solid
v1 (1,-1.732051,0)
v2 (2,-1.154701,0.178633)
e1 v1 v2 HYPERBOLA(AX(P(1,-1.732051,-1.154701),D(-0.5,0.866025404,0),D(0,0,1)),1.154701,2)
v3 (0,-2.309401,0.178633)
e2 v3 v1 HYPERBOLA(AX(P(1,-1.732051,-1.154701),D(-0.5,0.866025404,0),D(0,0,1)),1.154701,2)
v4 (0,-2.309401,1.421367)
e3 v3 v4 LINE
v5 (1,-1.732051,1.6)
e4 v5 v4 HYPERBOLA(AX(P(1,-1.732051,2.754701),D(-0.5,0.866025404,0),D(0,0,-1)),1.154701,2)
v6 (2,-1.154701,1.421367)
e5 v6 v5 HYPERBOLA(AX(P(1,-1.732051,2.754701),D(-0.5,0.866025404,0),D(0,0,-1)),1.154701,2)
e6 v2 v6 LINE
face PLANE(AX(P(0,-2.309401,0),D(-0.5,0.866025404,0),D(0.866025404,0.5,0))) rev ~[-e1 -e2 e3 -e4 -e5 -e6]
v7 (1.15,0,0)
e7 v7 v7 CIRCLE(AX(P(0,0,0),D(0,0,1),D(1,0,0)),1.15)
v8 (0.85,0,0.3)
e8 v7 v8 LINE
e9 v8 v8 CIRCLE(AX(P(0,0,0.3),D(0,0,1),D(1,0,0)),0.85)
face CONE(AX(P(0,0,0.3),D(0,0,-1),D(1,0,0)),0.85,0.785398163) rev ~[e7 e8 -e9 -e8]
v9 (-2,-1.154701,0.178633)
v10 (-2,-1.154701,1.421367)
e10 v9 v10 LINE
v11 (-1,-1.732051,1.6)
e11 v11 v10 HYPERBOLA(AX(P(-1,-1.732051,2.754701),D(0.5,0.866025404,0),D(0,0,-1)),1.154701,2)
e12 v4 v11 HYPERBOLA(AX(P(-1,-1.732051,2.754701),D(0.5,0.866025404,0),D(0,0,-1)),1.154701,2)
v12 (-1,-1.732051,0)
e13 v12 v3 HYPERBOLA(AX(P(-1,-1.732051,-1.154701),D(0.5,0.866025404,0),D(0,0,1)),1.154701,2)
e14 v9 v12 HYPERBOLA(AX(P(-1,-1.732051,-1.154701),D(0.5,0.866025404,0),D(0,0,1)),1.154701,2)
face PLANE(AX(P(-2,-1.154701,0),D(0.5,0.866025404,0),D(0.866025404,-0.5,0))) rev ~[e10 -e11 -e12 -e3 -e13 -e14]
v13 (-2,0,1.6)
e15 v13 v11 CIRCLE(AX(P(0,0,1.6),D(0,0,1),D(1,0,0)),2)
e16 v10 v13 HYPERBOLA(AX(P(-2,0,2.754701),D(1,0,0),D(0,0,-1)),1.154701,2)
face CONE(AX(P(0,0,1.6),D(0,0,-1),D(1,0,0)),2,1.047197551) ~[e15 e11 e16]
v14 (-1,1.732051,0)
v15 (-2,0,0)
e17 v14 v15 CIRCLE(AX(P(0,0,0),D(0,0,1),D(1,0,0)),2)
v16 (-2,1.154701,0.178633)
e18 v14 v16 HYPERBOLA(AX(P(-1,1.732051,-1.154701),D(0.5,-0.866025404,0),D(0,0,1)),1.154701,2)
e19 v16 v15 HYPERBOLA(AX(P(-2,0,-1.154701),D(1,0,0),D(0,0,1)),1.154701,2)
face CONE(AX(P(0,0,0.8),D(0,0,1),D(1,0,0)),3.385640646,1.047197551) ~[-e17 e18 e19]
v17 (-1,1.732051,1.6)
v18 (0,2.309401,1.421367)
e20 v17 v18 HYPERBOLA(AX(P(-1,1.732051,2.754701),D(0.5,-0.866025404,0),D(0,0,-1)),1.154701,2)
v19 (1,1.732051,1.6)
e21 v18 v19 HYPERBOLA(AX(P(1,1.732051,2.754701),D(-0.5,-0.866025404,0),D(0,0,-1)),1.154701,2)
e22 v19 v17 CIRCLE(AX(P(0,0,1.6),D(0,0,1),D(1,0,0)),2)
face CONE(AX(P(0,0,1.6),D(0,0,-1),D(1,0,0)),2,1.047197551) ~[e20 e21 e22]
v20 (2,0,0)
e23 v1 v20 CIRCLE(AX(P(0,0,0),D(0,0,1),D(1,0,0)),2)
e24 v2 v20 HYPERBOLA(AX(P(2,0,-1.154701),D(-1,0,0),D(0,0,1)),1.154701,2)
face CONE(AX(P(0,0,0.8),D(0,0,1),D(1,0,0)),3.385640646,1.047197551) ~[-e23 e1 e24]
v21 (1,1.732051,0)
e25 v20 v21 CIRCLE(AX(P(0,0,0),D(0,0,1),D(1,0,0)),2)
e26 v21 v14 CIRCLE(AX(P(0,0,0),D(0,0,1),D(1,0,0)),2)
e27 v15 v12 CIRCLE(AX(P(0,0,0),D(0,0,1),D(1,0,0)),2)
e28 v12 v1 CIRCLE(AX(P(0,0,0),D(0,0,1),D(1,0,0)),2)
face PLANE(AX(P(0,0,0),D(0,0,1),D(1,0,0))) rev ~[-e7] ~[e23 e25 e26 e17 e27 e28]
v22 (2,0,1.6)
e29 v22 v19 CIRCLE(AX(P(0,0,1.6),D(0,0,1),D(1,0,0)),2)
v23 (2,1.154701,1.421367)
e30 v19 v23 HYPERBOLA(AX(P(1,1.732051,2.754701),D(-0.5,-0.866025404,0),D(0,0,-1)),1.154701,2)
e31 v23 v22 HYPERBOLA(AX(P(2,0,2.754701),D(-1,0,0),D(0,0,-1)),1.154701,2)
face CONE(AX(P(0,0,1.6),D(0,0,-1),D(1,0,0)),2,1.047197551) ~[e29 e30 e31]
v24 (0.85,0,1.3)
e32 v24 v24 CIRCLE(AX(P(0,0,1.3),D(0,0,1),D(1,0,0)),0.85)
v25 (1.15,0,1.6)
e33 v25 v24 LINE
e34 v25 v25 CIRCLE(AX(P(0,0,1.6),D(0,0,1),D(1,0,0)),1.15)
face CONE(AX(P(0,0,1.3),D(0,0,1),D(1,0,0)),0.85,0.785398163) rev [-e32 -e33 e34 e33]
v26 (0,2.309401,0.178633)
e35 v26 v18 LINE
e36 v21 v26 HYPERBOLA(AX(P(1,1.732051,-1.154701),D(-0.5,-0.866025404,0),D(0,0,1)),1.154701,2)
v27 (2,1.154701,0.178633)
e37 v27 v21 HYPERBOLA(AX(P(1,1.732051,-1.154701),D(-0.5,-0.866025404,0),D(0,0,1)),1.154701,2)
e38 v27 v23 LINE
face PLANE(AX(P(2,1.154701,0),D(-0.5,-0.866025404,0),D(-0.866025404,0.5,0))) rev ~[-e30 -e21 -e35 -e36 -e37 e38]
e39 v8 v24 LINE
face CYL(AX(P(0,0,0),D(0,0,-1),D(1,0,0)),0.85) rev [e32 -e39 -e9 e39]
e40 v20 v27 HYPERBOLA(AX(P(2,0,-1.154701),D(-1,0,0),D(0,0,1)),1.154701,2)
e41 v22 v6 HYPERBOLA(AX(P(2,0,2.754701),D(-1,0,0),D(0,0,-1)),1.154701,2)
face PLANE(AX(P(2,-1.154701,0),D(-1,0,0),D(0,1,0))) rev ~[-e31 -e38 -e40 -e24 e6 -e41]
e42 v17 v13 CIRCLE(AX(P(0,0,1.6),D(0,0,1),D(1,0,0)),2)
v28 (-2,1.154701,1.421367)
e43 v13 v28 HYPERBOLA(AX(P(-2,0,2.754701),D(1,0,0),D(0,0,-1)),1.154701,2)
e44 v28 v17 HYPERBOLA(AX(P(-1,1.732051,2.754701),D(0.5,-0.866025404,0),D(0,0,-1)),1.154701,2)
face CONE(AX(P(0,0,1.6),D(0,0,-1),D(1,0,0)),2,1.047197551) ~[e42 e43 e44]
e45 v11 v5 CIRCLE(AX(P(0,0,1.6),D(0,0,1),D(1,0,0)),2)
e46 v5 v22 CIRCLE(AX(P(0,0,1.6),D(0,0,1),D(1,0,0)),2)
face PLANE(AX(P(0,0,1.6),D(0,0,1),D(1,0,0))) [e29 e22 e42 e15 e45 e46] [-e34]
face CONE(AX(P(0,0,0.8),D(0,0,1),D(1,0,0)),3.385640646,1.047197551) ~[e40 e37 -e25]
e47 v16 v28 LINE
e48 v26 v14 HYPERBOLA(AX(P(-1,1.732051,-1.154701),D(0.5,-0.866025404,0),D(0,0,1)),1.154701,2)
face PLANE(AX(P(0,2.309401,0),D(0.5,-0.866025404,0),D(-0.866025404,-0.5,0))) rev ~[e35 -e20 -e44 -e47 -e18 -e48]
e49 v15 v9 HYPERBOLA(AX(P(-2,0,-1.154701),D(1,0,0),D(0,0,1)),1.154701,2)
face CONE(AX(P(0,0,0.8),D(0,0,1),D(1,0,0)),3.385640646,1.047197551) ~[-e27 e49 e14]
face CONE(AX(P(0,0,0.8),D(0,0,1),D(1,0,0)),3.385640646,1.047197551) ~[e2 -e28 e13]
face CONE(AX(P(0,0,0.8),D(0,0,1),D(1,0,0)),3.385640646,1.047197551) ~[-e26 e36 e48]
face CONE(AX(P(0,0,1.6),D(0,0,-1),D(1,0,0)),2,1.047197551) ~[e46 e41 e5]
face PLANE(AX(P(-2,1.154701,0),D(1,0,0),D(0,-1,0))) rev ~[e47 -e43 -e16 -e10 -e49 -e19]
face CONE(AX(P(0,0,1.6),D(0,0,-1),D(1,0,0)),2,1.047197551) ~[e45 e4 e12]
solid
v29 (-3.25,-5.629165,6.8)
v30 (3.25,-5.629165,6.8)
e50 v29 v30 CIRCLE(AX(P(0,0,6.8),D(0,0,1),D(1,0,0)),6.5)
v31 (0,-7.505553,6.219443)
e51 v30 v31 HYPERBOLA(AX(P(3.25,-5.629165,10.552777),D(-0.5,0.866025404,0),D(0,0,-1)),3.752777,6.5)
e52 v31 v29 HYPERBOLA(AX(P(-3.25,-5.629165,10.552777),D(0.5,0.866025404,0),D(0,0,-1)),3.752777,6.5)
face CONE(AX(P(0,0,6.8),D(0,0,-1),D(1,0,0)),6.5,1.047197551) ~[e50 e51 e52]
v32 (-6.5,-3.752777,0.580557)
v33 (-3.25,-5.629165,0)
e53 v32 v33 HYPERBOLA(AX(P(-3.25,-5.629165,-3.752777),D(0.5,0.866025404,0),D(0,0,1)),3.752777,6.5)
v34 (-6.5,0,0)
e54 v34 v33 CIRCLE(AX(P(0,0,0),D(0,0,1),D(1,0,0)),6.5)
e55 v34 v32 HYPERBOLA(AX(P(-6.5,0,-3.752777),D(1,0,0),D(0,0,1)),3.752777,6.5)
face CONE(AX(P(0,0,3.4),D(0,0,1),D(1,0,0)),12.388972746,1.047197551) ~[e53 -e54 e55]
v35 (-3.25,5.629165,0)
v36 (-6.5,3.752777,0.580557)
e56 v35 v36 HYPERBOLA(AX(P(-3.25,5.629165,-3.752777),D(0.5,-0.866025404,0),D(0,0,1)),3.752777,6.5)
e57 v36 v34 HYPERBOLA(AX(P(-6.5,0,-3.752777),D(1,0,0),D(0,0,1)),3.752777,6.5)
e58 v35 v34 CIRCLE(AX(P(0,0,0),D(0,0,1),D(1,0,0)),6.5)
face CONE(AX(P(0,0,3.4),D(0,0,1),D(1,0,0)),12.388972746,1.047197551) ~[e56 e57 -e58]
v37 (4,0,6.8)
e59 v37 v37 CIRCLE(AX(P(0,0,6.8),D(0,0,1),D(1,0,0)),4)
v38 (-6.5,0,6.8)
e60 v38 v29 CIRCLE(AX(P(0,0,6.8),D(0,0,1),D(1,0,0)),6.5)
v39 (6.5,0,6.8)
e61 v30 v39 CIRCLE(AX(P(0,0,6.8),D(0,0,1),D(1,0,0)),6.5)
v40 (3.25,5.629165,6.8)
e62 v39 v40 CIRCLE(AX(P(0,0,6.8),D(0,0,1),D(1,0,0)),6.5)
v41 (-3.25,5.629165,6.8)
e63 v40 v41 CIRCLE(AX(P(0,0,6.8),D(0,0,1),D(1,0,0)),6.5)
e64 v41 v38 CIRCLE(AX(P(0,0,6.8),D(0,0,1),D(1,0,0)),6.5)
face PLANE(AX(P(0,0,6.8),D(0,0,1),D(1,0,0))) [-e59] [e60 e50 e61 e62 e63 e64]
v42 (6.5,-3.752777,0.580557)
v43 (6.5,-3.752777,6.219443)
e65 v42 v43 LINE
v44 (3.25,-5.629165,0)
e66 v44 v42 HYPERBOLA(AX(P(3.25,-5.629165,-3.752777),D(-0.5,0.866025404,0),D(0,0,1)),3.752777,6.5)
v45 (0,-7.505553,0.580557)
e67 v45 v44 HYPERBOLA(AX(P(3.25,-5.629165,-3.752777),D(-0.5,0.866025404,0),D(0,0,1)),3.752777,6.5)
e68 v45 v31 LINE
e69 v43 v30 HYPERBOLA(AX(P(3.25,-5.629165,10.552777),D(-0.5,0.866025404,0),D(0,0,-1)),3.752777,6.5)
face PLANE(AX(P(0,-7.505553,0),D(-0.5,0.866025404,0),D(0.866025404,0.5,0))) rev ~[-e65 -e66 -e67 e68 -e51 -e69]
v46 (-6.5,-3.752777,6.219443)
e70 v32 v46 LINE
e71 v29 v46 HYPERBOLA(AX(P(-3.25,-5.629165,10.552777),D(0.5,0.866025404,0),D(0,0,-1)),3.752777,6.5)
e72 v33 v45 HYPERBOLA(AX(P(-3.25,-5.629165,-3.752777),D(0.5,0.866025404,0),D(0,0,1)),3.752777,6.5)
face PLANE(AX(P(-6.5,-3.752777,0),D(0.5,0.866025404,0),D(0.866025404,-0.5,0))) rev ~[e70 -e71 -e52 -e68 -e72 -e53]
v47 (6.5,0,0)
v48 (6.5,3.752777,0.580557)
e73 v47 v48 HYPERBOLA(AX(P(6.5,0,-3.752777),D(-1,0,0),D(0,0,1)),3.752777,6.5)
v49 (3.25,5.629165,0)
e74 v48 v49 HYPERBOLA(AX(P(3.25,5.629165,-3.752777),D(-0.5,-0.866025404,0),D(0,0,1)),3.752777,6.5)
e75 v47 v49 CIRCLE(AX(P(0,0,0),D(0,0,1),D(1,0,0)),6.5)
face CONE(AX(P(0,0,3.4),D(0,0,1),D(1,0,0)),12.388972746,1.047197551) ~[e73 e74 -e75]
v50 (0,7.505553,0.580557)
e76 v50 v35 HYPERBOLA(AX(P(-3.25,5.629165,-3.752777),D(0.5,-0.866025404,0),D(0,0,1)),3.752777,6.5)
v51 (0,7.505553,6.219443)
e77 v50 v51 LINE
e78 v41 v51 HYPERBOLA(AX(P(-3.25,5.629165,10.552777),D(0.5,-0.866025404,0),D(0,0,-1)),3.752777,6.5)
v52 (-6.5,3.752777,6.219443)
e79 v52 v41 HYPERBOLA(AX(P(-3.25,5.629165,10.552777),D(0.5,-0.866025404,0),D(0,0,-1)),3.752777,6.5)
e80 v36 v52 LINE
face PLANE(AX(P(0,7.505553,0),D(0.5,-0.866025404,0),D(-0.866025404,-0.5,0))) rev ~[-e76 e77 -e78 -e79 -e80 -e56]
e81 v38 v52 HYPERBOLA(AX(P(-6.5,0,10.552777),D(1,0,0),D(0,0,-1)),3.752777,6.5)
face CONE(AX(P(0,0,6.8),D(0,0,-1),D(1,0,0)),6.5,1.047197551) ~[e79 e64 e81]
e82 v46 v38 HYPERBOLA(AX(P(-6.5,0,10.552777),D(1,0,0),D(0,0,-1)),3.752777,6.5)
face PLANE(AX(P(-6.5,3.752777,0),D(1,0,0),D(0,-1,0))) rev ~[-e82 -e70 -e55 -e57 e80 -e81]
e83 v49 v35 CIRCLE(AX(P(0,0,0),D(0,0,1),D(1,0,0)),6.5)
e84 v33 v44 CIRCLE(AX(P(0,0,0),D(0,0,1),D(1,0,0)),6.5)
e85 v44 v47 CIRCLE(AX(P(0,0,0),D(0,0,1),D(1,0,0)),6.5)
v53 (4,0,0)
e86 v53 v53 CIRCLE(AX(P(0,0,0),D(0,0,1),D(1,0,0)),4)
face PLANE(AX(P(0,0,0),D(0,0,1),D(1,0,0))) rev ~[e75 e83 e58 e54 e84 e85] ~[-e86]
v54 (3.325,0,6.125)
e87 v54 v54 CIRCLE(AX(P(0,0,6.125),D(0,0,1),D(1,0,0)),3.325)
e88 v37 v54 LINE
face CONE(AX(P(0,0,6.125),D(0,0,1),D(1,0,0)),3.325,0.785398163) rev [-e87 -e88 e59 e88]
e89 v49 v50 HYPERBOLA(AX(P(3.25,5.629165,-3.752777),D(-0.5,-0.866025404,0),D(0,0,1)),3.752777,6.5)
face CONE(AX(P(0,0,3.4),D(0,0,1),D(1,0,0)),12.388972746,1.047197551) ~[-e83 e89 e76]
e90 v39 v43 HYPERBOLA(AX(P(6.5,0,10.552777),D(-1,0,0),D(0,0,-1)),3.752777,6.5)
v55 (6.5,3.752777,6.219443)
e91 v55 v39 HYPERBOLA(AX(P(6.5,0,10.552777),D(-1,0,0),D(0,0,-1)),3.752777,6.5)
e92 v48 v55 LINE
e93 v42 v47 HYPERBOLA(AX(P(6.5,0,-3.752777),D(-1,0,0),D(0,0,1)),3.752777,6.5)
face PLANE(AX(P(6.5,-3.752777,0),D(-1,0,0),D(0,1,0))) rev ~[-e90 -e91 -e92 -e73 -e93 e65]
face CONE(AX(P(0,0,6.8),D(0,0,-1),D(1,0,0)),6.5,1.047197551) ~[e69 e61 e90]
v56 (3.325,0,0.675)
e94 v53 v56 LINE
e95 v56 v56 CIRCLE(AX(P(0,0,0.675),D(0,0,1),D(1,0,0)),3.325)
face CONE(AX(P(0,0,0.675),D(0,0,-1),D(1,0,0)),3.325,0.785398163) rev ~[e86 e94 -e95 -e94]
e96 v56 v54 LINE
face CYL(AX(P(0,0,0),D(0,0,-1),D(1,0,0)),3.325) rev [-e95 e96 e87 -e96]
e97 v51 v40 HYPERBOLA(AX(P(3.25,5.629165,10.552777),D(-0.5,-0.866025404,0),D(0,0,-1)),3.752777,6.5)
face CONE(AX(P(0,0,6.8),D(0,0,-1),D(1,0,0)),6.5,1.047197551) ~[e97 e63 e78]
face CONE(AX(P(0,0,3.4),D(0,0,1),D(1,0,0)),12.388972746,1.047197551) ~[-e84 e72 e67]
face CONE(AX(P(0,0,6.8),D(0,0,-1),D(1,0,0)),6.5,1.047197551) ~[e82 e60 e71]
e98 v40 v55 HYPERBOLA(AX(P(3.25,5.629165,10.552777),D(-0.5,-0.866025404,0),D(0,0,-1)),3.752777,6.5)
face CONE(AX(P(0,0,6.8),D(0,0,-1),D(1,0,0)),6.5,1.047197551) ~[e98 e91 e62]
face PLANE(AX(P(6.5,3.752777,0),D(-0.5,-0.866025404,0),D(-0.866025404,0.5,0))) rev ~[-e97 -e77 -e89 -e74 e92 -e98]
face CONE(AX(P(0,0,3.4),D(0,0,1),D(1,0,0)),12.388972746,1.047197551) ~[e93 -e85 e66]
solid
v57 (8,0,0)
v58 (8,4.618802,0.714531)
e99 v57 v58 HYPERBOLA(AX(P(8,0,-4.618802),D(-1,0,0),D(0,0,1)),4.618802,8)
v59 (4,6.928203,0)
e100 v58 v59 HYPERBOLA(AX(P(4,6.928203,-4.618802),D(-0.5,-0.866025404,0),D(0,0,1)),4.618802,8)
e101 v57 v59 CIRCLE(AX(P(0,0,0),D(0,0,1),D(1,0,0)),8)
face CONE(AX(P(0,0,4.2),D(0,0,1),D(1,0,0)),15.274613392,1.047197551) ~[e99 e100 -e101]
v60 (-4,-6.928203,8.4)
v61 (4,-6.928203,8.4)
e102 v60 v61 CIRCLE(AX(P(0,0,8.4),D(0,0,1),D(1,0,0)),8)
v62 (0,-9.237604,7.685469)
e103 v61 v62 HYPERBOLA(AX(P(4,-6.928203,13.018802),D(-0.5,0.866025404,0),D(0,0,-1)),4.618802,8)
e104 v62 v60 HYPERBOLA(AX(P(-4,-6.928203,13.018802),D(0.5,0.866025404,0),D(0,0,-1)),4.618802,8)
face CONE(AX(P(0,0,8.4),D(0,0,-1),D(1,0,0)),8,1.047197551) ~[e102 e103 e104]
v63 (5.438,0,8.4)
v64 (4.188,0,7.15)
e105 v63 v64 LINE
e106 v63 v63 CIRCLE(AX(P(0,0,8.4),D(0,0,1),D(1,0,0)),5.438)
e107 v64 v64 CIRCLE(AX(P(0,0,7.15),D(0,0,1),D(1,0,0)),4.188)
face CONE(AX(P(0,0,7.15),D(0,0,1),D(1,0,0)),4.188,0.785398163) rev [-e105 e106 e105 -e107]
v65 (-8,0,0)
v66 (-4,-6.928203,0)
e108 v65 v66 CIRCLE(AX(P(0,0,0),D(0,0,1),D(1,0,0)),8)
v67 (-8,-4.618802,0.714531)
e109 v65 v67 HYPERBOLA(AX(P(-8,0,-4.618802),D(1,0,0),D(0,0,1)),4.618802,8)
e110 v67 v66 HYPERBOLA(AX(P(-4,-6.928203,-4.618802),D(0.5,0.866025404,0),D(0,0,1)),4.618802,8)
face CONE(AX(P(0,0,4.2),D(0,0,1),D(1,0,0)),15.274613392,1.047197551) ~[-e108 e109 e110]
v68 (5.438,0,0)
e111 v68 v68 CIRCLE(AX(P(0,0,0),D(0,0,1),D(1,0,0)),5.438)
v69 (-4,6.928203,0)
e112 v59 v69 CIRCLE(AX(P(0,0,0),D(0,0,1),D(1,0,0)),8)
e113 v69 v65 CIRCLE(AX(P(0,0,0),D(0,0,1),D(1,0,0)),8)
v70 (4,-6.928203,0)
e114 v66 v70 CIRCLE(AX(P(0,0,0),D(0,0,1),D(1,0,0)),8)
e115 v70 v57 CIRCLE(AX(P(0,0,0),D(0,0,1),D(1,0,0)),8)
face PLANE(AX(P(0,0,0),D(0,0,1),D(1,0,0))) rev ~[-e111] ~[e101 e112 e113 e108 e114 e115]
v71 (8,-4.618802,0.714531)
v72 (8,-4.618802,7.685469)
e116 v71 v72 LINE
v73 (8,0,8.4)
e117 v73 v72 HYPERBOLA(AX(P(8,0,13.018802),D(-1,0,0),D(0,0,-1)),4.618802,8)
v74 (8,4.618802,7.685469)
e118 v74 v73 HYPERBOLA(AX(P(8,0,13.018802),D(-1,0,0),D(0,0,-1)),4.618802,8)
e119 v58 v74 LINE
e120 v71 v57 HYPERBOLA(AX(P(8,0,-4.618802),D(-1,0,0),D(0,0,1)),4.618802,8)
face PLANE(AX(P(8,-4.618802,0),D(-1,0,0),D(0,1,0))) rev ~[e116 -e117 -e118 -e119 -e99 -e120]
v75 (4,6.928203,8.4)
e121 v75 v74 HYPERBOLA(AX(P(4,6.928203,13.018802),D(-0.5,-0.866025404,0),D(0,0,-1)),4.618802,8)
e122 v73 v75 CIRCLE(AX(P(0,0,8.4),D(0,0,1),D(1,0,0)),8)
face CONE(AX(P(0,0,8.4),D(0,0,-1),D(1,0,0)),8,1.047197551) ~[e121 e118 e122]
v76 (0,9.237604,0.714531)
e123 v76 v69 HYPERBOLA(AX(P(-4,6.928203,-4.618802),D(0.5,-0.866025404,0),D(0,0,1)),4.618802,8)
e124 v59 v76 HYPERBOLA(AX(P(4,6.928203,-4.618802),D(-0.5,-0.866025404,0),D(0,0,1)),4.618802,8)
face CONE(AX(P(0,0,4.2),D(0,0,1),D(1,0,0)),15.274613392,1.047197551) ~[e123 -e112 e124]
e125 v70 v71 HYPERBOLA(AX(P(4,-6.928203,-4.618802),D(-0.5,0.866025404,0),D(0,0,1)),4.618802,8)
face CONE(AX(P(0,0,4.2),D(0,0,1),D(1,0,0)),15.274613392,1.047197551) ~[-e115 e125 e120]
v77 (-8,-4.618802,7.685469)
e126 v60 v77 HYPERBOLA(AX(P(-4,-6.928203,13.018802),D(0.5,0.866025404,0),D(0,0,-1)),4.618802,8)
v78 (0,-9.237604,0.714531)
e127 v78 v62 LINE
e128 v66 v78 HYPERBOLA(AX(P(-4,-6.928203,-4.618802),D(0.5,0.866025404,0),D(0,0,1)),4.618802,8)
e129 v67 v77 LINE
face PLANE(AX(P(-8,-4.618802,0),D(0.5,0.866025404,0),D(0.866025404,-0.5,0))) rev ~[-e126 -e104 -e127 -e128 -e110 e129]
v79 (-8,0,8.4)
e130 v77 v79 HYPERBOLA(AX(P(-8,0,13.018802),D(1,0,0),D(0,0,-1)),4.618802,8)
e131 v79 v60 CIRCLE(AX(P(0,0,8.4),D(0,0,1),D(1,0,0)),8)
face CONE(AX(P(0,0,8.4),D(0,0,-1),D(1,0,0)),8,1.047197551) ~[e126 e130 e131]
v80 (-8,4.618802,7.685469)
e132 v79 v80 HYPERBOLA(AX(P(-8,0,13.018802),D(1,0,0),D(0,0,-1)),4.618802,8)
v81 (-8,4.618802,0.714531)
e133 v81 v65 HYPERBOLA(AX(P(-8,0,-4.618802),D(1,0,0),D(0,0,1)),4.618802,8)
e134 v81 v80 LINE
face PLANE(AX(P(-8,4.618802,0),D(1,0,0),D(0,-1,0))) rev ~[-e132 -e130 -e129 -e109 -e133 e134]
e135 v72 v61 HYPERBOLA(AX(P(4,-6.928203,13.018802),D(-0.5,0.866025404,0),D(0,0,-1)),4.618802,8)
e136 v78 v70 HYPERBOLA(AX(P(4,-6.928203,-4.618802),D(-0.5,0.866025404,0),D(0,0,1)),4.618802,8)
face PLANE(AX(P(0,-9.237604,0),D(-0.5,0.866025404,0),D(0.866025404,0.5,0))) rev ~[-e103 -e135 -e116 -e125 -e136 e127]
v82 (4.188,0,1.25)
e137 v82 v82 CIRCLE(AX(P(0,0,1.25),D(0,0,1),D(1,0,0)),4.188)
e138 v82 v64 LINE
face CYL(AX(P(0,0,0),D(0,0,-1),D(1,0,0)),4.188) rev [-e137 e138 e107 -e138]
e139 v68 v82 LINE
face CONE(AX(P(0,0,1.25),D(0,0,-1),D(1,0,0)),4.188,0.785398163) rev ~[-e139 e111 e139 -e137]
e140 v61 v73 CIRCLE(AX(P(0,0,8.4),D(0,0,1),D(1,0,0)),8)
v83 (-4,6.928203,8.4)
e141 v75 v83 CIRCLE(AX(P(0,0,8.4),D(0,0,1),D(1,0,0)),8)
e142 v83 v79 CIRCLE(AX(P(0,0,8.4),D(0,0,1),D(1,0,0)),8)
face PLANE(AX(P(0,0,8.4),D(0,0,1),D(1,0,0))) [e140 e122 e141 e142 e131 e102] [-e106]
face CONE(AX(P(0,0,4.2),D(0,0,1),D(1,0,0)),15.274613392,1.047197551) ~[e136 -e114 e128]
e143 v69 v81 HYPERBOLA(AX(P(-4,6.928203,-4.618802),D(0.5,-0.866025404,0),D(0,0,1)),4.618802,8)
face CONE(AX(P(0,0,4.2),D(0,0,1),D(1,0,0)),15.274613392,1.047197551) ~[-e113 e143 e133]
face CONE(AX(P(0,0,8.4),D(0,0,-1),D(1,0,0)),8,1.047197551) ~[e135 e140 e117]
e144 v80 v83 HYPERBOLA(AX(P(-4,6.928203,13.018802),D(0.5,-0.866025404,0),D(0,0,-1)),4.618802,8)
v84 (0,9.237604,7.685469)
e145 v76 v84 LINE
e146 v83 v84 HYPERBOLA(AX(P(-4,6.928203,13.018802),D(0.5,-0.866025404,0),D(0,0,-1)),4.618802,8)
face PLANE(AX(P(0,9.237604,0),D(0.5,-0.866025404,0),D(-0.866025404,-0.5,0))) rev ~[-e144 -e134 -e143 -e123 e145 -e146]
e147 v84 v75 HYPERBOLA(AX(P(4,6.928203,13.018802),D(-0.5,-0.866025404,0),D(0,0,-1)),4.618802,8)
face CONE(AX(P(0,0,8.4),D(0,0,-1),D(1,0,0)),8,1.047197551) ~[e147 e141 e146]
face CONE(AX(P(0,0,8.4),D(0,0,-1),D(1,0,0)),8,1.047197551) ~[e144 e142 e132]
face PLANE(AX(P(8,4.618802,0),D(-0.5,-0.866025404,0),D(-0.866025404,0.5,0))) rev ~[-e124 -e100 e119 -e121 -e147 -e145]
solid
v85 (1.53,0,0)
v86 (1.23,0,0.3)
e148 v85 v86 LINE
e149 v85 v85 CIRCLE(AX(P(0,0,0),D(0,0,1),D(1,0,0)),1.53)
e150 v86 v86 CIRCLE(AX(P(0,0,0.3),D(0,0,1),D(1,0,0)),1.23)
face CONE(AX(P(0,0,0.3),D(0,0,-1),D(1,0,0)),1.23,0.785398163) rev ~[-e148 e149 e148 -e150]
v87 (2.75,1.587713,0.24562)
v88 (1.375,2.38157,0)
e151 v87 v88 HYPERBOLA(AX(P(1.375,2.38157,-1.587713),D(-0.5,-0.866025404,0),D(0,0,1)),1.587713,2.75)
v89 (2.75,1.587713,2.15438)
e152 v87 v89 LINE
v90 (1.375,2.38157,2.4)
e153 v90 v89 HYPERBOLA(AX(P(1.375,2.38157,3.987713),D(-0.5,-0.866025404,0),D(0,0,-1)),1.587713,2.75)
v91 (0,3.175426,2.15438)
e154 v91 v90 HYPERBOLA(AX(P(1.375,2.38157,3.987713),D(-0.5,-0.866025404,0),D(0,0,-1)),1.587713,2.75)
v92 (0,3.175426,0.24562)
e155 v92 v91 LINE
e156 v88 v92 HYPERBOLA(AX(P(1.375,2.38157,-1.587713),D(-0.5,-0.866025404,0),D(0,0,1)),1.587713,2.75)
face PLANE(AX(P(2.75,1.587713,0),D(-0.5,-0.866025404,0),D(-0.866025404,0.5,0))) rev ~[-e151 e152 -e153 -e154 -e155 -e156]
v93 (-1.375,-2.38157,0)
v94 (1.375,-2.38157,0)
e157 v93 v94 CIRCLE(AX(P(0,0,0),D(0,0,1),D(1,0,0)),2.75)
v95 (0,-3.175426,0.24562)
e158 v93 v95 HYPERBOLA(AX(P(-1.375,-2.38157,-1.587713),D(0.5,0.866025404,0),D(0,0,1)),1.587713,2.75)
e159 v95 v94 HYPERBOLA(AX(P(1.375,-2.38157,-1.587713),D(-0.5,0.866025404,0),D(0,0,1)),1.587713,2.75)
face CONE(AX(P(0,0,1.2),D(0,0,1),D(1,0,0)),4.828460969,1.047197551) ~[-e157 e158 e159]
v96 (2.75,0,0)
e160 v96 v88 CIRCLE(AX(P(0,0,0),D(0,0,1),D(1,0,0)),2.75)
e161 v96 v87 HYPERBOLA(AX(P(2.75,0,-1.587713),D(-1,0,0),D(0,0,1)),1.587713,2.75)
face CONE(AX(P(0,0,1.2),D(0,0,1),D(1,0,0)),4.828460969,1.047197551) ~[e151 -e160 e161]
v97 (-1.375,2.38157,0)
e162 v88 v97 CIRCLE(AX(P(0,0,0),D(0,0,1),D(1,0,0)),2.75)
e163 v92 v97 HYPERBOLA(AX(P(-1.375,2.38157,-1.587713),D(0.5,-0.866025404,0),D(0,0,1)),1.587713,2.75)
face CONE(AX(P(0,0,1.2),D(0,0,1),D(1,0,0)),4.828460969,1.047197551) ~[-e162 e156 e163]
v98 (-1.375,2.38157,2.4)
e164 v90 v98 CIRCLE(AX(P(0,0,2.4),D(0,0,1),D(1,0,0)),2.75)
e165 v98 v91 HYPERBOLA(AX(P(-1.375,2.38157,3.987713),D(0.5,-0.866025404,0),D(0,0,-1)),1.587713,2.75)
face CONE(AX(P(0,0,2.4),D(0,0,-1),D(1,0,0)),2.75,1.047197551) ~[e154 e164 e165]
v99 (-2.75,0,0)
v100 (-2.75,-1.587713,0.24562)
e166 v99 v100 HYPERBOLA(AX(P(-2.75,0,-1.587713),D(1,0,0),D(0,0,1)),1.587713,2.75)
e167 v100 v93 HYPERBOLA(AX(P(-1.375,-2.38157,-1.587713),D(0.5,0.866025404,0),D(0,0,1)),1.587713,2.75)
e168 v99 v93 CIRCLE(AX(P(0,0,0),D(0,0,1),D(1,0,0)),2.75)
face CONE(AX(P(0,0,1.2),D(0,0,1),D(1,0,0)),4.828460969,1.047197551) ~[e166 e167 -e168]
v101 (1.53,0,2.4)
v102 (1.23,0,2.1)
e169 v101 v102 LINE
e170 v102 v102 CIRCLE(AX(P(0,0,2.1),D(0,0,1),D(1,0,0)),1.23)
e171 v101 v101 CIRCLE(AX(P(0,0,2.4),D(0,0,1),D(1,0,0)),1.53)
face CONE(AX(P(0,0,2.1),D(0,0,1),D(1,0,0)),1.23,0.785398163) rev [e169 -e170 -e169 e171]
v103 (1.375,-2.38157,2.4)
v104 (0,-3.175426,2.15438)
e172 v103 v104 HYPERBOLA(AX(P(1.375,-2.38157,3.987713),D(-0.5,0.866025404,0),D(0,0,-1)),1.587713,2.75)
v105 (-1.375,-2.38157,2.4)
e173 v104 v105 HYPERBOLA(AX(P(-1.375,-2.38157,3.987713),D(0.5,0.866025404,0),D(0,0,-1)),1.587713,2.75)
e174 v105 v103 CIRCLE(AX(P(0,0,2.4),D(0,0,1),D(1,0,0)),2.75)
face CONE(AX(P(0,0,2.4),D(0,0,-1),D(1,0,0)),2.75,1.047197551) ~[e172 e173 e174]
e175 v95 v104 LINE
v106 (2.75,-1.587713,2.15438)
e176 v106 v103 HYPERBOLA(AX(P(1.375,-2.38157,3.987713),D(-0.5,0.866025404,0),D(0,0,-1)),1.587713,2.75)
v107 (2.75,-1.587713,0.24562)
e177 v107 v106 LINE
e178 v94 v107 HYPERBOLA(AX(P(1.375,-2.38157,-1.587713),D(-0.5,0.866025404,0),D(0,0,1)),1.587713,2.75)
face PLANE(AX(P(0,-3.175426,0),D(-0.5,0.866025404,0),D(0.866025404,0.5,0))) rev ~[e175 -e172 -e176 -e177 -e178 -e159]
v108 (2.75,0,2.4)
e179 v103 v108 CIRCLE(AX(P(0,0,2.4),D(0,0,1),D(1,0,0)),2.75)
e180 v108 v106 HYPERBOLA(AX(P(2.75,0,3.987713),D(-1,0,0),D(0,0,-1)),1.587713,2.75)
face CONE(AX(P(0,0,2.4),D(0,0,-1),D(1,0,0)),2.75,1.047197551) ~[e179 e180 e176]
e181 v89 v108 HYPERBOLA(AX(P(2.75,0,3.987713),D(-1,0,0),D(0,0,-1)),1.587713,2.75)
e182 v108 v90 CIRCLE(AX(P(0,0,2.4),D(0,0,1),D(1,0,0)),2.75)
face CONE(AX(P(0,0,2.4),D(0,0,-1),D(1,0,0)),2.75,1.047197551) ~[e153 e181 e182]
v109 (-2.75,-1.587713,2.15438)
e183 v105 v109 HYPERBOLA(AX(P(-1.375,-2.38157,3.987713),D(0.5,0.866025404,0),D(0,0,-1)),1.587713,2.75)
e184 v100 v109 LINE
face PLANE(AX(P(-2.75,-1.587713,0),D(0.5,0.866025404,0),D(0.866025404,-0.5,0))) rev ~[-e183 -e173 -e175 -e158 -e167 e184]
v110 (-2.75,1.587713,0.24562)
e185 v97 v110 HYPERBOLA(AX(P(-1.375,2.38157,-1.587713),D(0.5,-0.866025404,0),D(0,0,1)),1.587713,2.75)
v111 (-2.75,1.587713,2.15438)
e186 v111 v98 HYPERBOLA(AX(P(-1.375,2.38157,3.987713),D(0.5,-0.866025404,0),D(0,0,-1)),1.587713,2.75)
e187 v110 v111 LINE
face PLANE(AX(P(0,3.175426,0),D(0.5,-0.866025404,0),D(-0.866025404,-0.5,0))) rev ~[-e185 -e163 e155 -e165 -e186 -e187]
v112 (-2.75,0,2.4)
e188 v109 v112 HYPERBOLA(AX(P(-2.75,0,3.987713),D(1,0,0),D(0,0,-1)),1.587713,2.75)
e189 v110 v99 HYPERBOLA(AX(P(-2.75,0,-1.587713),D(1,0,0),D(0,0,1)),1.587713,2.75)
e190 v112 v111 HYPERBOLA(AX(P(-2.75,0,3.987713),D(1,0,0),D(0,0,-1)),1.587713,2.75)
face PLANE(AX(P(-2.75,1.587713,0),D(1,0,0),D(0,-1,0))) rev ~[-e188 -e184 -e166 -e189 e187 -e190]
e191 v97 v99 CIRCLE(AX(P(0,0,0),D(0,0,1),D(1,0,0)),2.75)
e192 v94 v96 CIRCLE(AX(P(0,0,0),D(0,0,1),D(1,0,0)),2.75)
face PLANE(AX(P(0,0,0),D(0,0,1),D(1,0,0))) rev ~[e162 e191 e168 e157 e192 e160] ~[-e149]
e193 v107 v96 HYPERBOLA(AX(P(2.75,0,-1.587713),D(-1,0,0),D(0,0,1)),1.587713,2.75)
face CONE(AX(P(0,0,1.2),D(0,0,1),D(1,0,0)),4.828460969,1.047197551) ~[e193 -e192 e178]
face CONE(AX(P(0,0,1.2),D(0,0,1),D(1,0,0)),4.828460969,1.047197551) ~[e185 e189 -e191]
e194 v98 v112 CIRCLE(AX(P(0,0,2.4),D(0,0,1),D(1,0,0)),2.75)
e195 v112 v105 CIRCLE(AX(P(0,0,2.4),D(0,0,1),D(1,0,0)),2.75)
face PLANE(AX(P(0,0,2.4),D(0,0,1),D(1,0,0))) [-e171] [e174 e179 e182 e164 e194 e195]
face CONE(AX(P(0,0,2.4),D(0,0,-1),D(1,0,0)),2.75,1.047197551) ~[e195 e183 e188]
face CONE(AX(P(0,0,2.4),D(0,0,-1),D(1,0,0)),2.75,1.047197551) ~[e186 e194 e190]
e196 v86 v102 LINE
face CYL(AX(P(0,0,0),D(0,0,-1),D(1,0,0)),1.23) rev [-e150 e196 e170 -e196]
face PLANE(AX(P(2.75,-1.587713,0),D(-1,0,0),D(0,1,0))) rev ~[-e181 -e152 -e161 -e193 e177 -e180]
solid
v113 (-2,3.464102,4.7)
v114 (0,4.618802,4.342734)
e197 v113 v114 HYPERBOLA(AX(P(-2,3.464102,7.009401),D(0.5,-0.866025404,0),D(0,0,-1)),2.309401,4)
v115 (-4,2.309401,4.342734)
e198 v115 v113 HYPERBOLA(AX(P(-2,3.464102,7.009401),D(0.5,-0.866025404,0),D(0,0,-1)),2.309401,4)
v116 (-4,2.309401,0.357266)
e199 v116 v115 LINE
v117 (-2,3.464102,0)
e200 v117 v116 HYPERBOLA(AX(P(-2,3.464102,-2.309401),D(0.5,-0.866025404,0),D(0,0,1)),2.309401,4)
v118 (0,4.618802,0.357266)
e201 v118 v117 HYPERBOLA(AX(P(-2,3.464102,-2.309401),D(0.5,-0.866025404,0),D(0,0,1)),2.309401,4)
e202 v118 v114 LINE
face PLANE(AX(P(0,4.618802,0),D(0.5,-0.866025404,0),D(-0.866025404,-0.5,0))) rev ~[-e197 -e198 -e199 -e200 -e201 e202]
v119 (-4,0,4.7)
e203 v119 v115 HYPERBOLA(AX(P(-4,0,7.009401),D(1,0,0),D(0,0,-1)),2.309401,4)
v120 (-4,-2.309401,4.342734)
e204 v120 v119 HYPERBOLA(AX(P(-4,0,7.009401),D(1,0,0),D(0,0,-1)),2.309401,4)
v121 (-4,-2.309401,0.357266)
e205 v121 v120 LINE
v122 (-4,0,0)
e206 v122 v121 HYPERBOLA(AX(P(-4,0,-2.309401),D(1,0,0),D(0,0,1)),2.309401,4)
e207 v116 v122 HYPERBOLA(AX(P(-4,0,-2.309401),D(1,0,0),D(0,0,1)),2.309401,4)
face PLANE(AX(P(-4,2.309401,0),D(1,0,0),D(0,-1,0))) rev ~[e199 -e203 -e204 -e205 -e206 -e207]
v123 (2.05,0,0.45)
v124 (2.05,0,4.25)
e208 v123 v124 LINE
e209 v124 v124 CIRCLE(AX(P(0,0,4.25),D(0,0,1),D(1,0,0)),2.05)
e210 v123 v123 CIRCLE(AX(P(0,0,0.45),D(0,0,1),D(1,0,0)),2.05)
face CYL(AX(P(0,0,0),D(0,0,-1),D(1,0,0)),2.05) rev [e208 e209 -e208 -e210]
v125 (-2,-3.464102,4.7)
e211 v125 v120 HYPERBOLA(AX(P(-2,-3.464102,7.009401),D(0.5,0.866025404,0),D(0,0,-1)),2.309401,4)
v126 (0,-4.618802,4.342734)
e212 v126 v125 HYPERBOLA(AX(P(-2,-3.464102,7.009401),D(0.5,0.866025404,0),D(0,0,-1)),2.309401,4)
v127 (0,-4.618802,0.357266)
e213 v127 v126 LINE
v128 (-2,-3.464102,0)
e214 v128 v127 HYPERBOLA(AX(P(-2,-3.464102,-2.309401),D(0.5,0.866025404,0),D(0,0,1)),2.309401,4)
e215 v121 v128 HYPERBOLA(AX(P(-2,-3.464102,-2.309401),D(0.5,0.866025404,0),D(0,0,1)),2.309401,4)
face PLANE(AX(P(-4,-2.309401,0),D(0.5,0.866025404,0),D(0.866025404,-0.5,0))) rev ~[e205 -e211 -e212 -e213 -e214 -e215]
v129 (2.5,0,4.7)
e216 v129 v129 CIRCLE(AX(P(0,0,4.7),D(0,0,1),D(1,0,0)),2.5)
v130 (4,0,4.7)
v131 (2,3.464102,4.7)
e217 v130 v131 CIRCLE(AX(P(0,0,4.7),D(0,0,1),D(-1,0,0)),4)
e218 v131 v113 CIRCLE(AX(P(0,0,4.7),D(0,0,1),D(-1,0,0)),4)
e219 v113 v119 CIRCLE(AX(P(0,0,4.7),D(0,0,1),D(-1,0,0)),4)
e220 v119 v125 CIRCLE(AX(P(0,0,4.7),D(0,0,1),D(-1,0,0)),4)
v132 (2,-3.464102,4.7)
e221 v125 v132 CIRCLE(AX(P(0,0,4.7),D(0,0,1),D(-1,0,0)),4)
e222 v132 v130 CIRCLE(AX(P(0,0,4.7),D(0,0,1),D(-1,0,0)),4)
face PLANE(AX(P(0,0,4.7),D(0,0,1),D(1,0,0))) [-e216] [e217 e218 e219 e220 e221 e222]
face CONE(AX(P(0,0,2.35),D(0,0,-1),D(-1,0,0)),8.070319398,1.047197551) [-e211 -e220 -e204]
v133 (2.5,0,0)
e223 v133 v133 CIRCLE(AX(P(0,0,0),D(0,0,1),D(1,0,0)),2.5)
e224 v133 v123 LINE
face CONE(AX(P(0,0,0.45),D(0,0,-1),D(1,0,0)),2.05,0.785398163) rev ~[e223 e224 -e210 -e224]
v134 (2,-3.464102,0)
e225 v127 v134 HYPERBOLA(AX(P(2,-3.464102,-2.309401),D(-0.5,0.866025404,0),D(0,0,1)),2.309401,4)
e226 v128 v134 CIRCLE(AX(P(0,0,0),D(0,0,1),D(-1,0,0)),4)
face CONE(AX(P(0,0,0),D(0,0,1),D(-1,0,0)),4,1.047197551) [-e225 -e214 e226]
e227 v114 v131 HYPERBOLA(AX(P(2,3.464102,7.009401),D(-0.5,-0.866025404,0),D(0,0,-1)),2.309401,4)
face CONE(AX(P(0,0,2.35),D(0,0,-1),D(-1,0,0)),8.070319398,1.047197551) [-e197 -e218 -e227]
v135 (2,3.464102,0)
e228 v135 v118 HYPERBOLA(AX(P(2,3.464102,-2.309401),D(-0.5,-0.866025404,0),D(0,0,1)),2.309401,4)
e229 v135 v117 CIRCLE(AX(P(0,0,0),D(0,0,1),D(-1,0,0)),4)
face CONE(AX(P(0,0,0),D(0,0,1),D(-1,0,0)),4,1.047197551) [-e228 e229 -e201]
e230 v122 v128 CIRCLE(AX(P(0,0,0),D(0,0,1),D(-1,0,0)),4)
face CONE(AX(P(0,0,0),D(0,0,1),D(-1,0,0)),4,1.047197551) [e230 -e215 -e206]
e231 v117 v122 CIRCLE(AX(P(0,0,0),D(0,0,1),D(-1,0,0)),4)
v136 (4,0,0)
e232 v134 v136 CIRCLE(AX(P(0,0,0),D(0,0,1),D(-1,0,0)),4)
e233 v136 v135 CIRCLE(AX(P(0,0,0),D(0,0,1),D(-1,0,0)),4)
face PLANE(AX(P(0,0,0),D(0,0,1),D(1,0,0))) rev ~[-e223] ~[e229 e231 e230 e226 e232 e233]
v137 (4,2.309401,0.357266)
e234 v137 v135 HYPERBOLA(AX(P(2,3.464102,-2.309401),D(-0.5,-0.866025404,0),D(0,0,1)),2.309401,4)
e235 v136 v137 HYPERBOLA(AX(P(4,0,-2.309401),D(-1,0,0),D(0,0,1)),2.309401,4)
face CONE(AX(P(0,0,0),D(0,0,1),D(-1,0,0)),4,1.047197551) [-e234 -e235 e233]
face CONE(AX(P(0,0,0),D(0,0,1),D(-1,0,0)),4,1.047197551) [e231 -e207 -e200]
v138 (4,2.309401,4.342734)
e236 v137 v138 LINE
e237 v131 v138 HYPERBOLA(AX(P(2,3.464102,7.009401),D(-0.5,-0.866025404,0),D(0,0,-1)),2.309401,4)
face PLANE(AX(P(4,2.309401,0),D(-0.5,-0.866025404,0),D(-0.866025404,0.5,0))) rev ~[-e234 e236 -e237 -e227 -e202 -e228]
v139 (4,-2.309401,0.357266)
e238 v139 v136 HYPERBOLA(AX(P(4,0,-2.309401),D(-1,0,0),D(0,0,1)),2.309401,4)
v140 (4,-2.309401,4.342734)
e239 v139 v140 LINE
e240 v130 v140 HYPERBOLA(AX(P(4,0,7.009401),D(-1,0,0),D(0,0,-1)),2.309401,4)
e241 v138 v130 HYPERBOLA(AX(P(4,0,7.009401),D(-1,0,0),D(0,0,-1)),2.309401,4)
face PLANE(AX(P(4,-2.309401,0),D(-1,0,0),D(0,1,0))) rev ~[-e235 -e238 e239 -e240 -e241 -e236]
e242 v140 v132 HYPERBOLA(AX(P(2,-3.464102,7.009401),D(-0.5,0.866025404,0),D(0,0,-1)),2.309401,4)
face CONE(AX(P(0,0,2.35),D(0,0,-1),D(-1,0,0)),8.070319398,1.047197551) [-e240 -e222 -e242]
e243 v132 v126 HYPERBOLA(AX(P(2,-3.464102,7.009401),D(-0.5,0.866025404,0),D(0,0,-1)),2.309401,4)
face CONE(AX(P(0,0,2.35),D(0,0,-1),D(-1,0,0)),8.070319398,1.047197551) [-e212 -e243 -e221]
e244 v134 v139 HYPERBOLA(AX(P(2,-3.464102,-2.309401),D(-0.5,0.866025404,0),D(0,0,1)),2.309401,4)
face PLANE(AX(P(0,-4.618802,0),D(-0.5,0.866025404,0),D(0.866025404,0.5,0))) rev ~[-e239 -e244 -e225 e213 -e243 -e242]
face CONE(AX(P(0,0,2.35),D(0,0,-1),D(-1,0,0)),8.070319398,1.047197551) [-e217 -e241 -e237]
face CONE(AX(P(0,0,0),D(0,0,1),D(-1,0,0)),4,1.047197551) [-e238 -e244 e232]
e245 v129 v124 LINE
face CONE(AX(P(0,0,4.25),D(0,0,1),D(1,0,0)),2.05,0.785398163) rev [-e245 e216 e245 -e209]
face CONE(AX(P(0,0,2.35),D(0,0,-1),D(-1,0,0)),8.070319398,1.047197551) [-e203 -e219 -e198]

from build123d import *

# Parameters (mm, degrees)
F0_R      = 4.188
F1_DEPTH  = 8.4
F4_SIZE   = 1.25
F5_R      = 1.23
F6_DEPTH  = 2.4
F9_SIZE   = 0.3
F10_R     = 2.05
F11_DEPTH = 4.7
F14_SIZE  = 0.45
F15_R     = 3.325
F16_DEPTH = 6.8
F19_SIZE  = 0.675
F20_R     = 0.85
F21_DEPTH = 1.6
F24_SIZE  = 0.3


with BuildPart() as f1:
    # F0 (on Top) → F1 (new body)
    with BuildSketch(Plane.XY):
        Polygon((8, -4.6188021535), (8, 4.6188021535), (0, 9.237604307), (-8, 4.6188021535), (-8, -4.6188021535), (0, -9.237604307), align=None)
        Circle(F0_R, mode=Mode.SUBTRACT)
    extrude(amount=F1_DEPTH)

    # F2 (on Front) → F3 (revolve, cut)
    with BuildSketch(Plane.XZ):
        Polygon((15.2746133918, 0), (15.2746133918, 4.2), (8, 0), align=None)
        Polygon((15.2746133918, 8.4), (8, 8.4), (15.2746133918, 4.2), align=None)
    revolve(axis=Axis((0, 0, 4.2), (0, 0, 1)), mode=Mode.SUBTRACT)

    # F4
    f4_edges = [f1.edges().sort_by_distance(p)[0] for p in [
        (4.188, 0, 4.2),
        (-4.188, 0, 0),
        (-4.188, 0, 8.4),
    ]]
    chamfer(f4_edges, length=F4_SIZE)


with BuildPart() as f6:
    # F5 (on Top) → F6 (new body)
    with BuildSketch(Plane.XY):
        Polygon((2.75, -1.5877132403), (2.75, 1.5877132403), (0, 3.1754264805), (-2.75, 1.5877132403), (-2.75, -1.5877132403), (0, -3.1754264805), align=None)
        Circle(F5_R, mode=Mode.SUBTRACT)
    extrude(amount=F6_DEPTH)

    # F7 (on Front) → F8 (revolve, cut)
    with BuildSketch(Plane.XZ):
        Polygon((4.8284609691, 0), (4.8284609691, 1.2), (2.75, 0), align=None)
        Polygon((4.8284609691, 2.4), (2.75, 2.4), (4.8284609691, 1.2), align=None)
    revolve(axis=Axis((0, 0, 1.1765488889), (0, 0, 1)), mode=Mode.SUBTRACT)

    # F9
    f9_edges = [f6.edges().sort_by_distance(p)[0] for p in [
        (1.23, 0, 1.2),
        (-1.23, 0, 0),
        (-1.23, 0, 2.4),
    ]]
    chamfer(f9_edges, length=F9_SIZE)


with BuildPart() as f11:
    # F10 (on Top) → F11 (new body)
    with BuildSketch(Plane.XY):
        Polygon((4, -2.3094010768), (4, 2.3094010768), (0, 4.6188021535), (-4, 2.3094010768), (-4, -2.3094010768), (0, -4.6188021535), align=None)
        Circle(F10_R, mode=Mode.SUBTRACT)
    extrude(amount=F11_DEPTH)

    # F12 (on Front) → F13 (revolve, cut)
    with BuildSketch(Plane.XZ):
        Polygon((-8.0703193978, 2.35), (-4, 4.7), (-8.0703193978, 4.7), align=None)
        Polygon((-4, 0), (-8.0703193978, 2.35), (-8.0703193978, 0), align=None)
    revolve(axis=Axis((0, 0, 4.6879765578), (0, 0, 1)), mode=Mode.SUBTRACT)

    # F14
    f14_edges = [f11.edges().sort_by_distance(p)[0] for p in [
        (2.05, 0, 2.35),
        (-2.05, 0, 0),
        (-2.05, 0, 4.7),
    ]]
    chamfer(f14_edges, length=F14_SIZE)


with BuildPart() as f16:
    # F15 (on Top) → F16 (new body)
    with BuildSketch(Plane.XY):
        Polygon((6.5, -3.7527767497), (6.5, 3.7527767497), (0, 7.5055534995), (-6.5, 3.7527767497), (-6.5, -3.7527767497), (0, -7.5055534995), align=None)
        Circle(F15_R, mode=Mode.SUBTRACT)
    extrude(amount=F16_DEPTH)

    # F17 (on Front) → F18 (revolve, cut)
    with BuildSketch(Plane.XZ):
        Polygon((12.3889727457, 0), (12.3889727457, 3.4), (6.5, 0), align=None)
        Polygon((12.3889727457, 6.8), (6.5, 6.8), (12.3889727457, 3.4), align=None)
    revolve(axis=Axis((0, 0, 6.4357738011), (0, 0, 1)), mode=Mode.SUBTRACT)

    # F19
    f19_edges = [f16.edges().sort_by_distance(p)[0] for p in [
        (3.325, 0, 3.4),
        (-3.325, 0, 0),
        (-3.325, 0, 6.8),
    ]]
    chamfer(f19_edges, length=F19_SIZE)


with BuildPart() as f21:
    # F20 (on Top) → F21 (new body)
    with BuildSketch(Plane.XY):
        Polygon((2, -1.1547005384), (2, 1.1547005384), (0, 2.3094010768), (-2, 1.1547005384), (-2, -1.1547005384), (0, -2.3094010768), align=None)
        Circle(F20_R, mode=Mode.SUBTRACT)
    extrude(amount=F21_DEPTH)

    # F22 (on Front) → F23 (revolve, cut)
    with BuildSketch(Plane.XZ):
        Polygon((3.3856406461, 1.6), (2, 1.6), (3.3856406461, 0.8), align=None)
        Polygon((3.3856406461, 0), (3.3856406461, 0.8), (2, 0), align=None)
    revolve(axis=Axis((0, 0, 0.8007095894), (0, 0, 1)), mode=Mode.SUBTRACT)

    # F24
    f24_edges = [f21.edges().sort_by_distance(p)[0] for p in [
        (-0.85, 0, 1.6),
        (-0.85, 0, 0),
    ]]
    chamfer(f24_edges, length=F24_SIZE)


solid = Compound([f1.part, f6.part, f11.part, f16.part, f21.part])
